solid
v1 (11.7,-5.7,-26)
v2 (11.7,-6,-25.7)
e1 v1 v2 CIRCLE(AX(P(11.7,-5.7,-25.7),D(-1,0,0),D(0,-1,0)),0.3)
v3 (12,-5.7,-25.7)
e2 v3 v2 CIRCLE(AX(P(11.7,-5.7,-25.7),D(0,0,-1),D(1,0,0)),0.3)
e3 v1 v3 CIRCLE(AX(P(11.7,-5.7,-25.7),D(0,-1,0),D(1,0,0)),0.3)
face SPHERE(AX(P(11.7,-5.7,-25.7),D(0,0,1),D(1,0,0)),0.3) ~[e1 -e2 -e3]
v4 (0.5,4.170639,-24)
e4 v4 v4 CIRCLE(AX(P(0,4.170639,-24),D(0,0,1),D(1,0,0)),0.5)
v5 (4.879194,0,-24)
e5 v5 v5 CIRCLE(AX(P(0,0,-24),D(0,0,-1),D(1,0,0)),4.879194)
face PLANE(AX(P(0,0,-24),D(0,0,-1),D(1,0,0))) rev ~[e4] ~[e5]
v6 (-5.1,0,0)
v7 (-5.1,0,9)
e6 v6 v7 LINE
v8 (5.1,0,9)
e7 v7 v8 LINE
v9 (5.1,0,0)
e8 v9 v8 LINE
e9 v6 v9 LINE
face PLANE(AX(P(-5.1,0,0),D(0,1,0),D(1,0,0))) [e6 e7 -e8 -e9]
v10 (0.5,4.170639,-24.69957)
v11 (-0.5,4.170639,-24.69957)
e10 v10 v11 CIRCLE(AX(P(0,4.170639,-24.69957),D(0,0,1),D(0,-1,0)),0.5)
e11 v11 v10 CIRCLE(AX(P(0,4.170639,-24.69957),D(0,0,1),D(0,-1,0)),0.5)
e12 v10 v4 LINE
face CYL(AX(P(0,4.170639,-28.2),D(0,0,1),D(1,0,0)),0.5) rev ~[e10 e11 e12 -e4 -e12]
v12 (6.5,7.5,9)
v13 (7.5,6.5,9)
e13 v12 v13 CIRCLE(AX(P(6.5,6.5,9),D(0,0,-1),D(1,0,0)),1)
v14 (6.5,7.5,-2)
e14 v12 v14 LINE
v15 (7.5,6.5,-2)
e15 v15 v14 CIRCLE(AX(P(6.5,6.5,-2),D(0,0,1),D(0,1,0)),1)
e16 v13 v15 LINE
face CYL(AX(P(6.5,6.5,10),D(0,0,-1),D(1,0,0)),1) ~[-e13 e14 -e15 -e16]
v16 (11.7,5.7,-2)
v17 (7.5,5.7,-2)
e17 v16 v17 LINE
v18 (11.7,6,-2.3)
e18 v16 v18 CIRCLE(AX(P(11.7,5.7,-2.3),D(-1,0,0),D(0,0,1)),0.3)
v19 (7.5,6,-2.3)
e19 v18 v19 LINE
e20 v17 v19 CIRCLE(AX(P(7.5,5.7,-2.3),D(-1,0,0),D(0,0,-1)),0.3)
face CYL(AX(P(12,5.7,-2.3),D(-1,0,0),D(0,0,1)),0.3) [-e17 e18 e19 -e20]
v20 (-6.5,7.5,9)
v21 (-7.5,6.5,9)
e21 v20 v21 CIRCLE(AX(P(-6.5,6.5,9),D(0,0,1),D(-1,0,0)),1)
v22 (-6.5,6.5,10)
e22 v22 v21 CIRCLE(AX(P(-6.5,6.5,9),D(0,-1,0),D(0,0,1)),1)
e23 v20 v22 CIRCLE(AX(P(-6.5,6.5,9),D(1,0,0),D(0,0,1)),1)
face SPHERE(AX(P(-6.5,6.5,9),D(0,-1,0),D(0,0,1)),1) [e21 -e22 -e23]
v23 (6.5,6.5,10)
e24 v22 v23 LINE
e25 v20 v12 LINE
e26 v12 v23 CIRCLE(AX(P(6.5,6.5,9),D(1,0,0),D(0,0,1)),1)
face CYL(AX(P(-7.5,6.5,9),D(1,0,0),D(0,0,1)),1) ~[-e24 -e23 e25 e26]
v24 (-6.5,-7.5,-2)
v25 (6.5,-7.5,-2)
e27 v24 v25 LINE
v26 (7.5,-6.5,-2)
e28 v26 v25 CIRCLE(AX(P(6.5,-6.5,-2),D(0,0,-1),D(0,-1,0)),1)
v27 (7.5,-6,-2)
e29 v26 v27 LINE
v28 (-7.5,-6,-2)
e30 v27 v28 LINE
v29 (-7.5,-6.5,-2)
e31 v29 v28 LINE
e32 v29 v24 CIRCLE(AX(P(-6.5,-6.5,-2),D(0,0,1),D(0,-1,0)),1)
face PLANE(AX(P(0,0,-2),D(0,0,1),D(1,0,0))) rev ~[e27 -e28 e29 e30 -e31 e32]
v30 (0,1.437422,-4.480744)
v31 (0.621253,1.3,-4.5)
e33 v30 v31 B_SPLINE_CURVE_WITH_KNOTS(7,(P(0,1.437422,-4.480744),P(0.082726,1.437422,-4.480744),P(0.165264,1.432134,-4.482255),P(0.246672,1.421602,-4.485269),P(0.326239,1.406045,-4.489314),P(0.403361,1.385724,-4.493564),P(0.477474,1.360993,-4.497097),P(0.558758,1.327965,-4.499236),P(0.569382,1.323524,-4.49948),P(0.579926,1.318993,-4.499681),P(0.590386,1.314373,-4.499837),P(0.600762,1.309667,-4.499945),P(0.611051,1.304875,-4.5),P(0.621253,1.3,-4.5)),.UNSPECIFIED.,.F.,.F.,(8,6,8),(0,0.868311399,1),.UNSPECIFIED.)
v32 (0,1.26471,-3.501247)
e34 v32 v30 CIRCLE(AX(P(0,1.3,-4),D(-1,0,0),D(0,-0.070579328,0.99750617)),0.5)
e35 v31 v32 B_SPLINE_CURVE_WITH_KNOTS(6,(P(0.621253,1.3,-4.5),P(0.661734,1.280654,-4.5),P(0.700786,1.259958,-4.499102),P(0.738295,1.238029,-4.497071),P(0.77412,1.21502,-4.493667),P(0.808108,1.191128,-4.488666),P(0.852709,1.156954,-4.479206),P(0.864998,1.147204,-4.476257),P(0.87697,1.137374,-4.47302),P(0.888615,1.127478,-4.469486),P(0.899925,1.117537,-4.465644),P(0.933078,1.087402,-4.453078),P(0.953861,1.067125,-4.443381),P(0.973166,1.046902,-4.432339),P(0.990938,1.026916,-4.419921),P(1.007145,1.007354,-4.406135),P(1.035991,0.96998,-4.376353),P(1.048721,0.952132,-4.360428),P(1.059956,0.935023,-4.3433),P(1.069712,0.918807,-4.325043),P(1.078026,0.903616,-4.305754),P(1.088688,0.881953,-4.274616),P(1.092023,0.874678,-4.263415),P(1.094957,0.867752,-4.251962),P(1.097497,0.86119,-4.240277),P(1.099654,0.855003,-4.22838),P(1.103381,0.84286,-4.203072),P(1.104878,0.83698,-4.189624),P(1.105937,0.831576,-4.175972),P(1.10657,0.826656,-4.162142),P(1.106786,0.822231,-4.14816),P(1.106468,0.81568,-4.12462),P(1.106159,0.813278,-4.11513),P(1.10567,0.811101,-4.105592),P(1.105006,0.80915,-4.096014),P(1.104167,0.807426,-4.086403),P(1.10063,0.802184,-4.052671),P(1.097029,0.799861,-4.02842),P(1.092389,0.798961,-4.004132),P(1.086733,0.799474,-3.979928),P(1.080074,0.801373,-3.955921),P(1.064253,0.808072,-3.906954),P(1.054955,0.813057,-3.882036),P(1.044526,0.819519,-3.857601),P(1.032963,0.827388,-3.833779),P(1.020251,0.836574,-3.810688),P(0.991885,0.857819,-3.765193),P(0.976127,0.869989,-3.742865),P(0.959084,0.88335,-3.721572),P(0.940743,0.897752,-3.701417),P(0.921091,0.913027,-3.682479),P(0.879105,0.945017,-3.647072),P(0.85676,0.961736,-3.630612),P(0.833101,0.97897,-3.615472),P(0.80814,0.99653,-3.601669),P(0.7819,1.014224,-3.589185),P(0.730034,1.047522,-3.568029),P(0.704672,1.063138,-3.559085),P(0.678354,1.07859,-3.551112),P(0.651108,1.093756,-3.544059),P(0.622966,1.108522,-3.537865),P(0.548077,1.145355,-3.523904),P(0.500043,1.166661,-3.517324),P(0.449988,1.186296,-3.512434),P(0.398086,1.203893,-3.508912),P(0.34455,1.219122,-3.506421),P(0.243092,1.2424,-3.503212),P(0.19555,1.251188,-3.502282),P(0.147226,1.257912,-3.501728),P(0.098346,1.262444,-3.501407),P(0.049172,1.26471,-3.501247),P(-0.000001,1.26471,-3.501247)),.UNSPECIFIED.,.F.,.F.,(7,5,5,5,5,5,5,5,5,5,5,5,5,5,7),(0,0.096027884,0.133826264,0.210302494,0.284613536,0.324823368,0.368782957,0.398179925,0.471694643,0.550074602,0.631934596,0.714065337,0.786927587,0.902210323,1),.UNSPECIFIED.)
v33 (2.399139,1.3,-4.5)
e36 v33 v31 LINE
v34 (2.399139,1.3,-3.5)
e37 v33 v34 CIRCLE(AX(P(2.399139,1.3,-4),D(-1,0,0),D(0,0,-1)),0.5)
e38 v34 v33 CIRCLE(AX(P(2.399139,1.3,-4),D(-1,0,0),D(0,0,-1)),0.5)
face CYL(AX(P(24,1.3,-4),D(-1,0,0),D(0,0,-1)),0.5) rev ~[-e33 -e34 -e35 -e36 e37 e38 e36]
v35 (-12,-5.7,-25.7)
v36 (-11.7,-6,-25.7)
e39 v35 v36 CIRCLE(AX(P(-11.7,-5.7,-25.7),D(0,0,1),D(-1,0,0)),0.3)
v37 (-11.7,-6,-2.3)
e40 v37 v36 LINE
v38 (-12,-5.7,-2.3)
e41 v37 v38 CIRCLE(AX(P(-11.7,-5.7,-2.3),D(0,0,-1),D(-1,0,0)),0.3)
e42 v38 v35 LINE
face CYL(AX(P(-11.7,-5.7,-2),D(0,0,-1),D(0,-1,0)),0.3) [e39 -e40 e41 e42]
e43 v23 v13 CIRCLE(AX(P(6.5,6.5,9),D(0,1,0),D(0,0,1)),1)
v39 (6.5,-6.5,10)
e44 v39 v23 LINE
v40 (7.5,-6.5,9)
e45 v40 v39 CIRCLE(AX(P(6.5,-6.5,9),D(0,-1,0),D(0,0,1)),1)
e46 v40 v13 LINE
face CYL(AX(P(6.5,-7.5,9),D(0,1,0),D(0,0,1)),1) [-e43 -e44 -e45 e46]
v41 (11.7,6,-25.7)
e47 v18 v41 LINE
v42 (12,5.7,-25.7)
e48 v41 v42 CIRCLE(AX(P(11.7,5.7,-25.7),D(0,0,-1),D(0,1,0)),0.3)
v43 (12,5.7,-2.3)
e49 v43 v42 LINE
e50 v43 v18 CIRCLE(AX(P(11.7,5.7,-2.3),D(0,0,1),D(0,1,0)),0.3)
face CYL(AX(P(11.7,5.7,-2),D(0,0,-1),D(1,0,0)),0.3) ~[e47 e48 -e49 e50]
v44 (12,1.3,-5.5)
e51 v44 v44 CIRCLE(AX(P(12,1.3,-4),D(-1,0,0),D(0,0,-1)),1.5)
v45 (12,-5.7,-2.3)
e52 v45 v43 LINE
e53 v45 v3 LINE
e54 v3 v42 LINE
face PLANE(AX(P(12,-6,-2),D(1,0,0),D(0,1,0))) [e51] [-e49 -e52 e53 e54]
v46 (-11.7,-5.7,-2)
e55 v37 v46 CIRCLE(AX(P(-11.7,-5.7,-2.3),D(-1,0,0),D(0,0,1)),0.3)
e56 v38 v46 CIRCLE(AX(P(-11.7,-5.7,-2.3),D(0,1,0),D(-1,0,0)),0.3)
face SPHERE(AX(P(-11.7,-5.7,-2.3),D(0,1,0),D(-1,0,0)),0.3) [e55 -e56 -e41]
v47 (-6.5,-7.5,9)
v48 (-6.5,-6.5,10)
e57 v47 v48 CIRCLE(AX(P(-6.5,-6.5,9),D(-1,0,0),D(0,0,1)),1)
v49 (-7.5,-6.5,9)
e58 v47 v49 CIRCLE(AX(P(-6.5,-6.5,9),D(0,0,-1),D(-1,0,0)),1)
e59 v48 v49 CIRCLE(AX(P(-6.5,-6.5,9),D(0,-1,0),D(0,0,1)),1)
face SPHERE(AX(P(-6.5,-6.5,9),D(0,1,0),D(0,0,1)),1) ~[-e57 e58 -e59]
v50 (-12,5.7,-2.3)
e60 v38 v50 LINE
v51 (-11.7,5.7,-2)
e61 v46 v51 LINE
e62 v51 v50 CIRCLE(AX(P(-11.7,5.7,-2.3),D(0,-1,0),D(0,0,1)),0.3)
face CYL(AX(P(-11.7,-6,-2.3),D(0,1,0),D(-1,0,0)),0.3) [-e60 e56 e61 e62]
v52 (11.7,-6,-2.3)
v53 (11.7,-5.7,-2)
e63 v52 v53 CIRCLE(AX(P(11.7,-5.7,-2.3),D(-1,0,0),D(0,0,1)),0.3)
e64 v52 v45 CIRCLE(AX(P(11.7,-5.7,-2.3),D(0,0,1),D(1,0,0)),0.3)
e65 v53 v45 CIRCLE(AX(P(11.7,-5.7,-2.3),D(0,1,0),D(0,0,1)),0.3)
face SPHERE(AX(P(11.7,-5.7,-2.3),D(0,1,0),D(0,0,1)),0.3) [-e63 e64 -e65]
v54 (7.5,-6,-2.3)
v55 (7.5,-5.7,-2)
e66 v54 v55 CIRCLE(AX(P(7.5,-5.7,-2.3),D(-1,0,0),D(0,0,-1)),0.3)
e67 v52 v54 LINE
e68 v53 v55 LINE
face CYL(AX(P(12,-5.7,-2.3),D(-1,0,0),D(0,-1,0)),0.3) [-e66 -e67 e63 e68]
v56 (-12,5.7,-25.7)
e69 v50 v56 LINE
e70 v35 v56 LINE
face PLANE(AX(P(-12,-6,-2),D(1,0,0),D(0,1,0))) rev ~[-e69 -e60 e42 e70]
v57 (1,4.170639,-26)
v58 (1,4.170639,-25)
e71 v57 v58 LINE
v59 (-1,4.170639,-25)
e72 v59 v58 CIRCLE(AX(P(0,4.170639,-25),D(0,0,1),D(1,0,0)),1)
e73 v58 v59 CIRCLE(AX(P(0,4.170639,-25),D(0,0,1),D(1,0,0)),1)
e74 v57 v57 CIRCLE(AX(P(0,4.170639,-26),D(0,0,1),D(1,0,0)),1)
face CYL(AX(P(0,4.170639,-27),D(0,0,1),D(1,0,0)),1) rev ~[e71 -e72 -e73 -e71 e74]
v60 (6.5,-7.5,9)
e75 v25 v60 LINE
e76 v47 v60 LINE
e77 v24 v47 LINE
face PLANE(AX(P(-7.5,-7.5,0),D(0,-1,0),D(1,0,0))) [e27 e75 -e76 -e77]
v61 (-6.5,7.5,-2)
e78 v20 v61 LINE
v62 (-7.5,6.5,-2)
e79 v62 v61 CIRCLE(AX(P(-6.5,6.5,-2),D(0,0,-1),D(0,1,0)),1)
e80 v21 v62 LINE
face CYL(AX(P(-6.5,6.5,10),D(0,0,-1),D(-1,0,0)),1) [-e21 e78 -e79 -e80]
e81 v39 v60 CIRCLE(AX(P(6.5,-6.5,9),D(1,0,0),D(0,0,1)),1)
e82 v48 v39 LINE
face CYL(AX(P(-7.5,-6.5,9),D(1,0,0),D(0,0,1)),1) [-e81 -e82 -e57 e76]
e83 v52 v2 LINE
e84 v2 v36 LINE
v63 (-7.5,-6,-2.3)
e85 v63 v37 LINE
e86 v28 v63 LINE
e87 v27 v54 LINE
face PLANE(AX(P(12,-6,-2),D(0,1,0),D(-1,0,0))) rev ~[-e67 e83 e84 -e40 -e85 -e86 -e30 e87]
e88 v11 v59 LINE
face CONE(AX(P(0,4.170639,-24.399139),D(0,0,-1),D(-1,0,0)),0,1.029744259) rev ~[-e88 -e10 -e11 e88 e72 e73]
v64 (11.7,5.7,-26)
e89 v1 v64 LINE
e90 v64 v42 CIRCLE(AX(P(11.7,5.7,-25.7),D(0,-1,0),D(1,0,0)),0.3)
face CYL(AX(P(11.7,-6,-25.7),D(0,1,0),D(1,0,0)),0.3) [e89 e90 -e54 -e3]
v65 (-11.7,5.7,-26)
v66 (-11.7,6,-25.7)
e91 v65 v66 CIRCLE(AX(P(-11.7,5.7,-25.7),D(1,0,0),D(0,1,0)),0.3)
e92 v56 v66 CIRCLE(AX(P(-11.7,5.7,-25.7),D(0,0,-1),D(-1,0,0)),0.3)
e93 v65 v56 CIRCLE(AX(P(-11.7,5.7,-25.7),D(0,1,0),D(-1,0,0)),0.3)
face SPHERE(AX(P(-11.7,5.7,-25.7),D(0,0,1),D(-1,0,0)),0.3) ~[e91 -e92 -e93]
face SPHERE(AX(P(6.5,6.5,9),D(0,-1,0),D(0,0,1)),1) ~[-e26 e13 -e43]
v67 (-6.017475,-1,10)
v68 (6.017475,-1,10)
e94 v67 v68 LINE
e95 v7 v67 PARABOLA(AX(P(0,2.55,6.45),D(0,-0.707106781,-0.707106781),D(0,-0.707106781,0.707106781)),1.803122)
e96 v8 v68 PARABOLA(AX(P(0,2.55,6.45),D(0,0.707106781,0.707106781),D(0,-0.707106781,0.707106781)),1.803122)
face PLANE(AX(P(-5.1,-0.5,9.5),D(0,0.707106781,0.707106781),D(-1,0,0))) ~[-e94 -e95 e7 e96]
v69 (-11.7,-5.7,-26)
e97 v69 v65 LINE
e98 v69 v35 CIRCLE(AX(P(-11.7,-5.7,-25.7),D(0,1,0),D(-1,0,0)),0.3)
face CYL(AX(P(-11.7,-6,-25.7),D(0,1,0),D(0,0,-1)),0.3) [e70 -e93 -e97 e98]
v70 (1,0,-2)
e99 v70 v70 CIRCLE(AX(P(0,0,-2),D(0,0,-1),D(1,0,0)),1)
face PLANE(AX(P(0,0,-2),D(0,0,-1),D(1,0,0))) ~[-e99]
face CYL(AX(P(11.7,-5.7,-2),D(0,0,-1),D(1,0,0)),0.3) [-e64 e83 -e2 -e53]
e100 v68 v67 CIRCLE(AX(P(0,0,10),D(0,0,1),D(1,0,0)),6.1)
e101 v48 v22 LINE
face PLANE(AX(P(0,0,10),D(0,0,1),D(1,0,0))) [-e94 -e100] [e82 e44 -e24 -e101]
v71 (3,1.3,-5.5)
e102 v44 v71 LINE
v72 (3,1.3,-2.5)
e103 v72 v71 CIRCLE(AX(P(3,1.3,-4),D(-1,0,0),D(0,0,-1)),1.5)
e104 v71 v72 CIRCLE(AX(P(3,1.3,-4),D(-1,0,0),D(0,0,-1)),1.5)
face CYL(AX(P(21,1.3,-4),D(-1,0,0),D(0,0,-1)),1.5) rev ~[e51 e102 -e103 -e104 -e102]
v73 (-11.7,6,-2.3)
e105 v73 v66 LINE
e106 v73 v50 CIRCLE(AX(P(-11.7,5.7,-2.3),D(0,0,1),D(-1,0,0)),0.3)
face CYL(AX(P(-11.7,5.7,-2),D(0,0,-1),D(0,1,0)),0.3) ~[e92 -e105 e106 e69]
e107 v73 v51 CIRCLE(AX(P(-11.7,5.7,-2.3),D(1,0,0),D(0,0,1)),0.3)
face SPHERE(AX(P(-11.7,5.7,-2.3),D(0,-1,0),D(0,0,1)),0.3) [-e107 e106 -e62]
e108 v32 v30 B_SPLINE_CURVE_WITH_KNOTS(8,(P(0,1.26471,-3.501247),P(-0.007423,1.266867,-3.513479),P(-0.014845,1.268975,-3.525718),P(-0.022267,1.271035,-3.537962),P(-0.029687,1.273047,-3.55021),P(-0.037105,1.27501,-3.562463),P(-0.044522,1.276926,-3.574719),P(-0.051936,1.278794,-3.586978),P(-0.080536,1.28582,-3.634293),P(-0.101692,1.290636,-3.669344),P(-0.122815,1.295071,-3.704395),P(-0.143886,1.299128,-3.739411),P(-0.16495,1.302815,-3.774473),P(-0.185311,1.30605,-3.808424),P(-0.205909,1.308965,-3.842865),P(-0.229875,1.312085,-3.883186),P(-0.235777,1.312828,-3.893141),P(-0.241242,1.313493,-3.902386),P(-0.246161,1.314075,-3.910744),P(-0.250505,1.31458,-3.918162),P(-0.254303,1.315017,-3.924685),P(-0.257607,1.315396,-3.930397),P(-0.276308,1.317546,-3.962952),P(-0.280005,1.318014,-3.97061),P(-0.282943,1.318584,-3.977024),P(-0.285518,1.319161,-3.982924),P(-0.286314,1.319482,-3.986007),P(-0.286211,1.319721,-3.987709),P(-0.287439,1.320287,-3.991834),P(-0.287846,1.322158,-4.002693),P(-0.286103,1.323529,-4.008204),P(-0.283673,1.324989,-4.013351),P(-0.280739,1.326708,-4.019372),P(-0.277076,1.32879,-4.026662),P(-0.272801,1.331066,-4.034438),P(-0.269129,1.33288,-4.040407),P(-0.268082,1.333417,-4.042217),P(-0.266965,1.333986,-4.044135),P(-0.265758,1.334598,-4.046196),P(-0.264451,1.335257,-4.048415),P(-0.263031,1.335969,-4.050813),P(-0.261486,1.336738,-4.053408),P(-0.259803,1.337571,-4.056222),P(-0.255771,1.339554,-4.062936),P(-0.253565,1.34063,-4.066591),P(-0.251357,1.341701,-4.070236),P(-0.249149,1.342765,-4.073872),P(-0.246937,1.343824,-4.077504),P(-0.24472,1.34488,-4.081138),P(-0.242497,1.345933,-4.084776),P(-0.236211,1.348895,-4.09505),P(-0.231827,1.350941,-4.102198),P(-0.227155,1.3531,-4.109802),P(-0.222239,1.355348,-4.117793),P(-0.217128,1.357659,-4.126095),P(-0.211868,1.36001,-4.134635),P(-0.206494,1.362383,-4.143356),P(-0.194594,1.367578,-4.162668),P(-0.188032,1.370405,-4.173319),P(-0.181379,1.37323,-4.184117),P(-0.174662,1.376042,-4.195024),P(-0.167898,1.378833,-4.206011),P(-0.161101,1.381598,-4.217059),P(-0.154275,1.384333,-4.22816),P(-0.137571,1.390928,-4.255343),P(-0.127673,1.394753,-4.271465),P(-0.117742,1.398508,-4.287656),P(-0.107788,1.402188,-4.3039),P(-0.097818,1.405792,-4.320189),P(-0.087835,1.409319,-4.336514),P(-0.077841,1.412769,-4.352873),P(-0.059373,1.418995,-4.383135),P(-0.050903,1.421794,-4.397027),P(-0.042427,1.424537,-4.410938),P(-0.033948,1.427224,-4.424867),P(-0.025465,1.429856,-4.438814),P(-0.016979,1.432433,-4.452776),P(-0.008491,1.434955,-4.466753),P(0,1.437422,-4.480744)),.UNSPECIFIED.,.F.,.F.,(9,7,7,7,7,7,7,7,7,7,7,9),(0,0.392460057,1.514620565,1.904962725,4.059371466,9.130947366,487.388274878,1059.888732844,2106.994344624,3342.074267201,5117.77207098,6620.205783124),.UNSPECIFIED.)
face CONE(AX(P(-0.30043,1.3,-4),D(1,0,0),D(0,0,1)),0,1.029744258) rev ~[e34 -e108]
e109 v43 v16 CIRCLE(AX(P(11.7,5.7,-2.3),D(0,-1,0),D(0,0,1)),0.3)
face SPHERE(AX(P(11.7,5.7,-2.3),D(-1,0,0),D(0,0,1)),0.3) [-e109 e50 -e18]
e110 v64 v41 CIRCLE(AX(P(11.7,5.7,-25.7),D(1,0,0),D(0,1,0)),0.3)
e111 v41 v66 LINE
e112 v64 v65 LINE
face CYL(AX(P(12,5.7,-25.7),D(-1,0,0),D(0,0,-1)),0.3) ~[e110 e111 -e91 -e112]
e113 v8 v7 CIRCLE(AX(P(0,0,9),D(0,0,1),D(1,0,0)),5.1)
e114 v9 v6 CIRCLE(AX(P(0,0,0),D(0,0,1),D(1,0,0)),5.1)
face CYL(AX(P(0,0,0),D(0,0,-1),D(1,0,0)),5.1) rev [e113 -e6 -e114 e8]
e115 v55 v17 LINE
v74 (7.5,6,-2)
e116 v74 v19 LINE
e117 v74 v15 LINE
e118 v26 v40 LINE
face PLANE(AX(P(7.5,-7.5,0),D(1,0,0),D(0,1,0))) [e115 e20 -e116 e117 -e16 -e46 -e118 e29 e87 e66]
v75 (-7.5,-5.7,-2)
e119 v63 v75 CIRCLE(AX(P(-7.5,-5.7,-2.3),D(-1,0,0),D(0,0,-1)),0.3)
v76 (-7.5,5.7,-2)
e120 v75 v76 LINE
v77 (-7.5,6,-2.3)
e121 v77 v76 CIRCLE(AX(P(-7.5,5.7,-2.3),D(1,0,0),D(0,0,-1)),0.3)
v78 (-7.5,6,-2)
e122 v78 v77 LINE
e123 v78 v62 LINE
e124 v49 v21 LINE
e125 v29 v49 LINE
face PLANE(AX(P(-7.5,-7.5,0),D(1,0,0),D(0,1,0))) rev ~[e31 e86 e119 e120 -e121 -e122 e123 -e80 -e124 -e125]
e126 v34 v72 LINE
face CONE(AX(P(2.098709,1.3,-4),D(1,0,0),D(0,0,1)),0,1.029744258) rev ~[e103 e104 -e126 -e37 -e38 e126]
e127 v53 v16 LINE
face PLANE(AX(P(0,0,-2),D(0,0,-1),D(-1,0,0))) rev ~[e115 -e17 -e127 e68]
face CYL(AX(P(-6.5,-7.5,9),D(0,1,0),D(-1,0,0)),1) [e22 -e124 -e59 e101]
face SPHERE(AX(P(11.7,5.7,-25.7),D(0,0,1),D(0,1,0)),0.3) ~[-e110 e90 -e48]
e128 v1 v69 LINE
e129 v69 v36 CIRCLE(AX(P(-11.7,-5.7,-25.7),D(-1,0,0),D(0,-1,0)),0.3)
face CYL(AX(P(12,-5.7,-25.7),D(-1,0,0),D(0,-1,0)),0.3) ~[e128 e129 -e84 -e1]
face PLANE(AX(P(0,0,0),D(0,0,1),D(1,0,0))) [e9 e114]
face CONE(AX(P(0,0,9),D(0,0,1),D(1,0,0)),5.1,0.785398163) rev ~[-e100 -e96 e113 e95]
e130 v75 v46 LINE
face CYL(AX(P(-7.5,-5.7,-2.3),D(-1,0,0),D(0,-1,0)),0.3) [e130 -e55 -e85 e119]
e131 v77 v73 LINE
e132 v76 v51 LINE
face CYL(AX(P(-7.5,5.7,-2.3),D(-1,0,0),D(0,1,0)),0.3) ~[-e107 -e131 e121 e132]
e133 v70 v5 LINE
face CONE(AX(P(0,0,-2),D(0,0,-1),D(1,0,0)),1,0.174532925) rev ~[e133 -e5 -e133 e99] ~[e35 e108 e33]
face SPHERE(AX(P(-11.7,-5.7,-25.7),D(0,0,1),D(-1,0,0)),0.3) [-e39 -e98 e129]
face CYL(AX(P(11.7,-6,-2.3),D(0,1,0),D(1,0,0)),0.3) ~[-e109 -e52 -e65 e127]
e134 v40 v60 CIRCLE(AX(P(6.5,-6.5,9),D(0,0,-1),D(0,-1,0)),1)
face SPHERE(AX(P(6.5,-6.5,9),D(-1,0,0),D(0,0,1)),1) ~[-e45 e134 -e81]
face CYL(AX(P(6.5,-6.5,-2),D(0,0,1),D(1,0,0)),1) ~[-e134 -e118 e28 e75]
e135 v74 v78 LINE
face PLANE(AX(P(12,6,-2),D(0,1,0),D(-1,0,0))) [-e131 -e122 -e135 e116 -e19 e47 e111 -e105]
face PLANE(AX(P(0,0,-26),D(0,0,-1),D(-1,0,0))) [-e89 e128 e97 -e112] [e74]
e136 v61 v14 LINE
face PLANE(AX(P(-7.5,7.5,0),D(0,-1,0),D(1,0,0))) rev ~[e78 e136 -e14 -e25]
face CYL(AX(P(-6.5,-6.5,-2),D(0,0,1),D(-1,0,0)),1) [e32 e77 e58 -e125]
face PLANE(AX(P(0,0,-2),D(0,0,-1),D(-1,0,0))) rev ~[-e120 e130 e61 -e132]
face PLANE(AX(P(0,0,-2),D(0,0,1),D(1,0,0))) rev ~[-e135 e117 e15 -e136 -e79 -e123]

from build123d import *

# Parameters (mm, degrees)
SKIZZE1_W                          = 15
SKIZZE1_H                          = 15
AUFSATZ_LINEAR_AUSTRAGEN1_DEPTH    = 10
FASE1_SIZE                         = 1
SKIZZE1_2_W                        = 15
SKIZZE1_2_H                        = 15
AUFSATZ_LINEAR_AUSTRAGEN2_DEPTH    = 2
VERRUNDUNG1_R                      = 1
SKIZZE2_W                          = 24
SKIZZE2_H                          = 12
AUFSATZ_LINEAR_AUSTRAGEN3_DEPTH    = 24
F_1_0_1_DURCHMESSER_BOHRUNG1_D     = 1
F_1_0_1_DURCHMESSER_BOHRUNG1_DEPTH = 12
F_1_0_1_DURCHMESSER_BOHRUNG1_TIP   = 0.30043031
F_1_0_1_DURCHMESSER_BOHRUNG2_D     = 1
F_1_0_1_DURCHMESSER_BOHRUNG2_DEPTH = 2.2
F_1_0_1_DURCHMESSER_BOHRUNG2_TIP   = 0.30043031
F_3_0_3_DURCHMESSER_BOHRUNG1_D     = 3
F_3_0_3_DURCHMESSER_BOHRUNG1_DEPTH = 9
F_3_0_3_DURCHMESSER_BOHRUNG1_TIP   = 0.901290929
F_2_0_2_DURCHMESSER_BOHRUNG1_D     = 2
F_2_0_2_DURCHMESSER_BOHRUNG1_DEPTH = 1
F_2_0_2_DURCHMESSER_BOHRUNG1_TIP   = 0.600860619
VERRUNDUNG6_R                      = 0.3


with BuildPart() as part:
    # Skizze1 → Aufsatz-Linear austragen1 (new body)
    with BuildSketch(Plane.XY):
        Rectangle(SKIZZE1_W, SKIZZE1_H)
        with BuildLine():
            Line((-5.1, 0), (5.1, 0))
            ThreePointArc((5.1, 0), (0, 5.1), (-5.1, 0))
        make_face(mode=Mode.SUBTRACT)
    extrude(amount=AUFSATZ_LINEAR_AUSTRAGEN1_DEPTH)

    # Fase1
    fase1_edges = [part.edges().sort_by_distance(p)[0] for p in [
        (0, 5.1, 10),
        (0, 0, 10),
    ]]
    chamfer(fase1_edges, length=FASE1_SIZE)

    # Skizze1_2 → Aufsatz-Linear austragen2 (add)
    with BuildSketch(Plane.XY):
        Rectangle(SKIZZE1_2_W, SKIZZE1_2_H)
        with BuildLine():
            ThreePointArc((5.1, 0), (0, 5.1), (-5.1, 0))
            Line((-5.1, 0), (5.1, 0))
        make_face(mode=Mode.SUBTRACT)
        with BuildLine():
            Line((-5.1, 0), (5.1, 0))
            ThreePointArc((5.1, 0), (0, 5.1), (-5.1, 0))
        make_face()
    extrude(amount=-AUFSATZ_LINEAR_AUSTRAGEN2_DEPTH)

    # Verrundung1
    verrundung1_edges = [part.edges().sort_by_distance(p)[0] for p in [
        (-7.5, 0, 10),
        (0, -7.5, 10),
        (7.5, 0, 10),
        (0, 7.5, 10),
        (7.5, -7.5, 4),
        (-7.5, -7.5, 4),
        (-7.5, 7.5, 4),
        (7.5, 7.5, 4),
    ]]
    fillet(verrundung1_edges, radius=VERRUNDUNG1_R)

    # Skizze2 → Aufsatz-Linear austragen3 (add)
    with BuildSketch(Plane(origin=(0, 0, -2), x_dir=(-1, 0, 0), z_dir=(0, 0, -1))):
        Rectangle(SKIZZE2_W, SKIZZE2_H)
    extrude(amount=AUFSATZ_LINEAR_AUSTRAGEN3_DEPTH)

    # Skizze12 → Schnitt-Rotation1 (revolve, cut)
    with BuildSketch(Plane(origin=(0, 0, 0), x_dir=(1, 0, 0), z_dir=(0, 1, 0)), mode=Mode.PRIVATE) as schnitt_rotation1_sk:
        Polygon((-1, 2), (-4.879193576, 24), (0, 24), (0, 2), align=None)
    revolve(schnitt_rotation1_sk.sketch.rotate(Axis((0, 0, -2), (0, 0, -1)), 180), axis=Axis((0, 0, -2), (0, 0, -1)), mode=Mode.SUBTRACT)  # turned: the seam where the file's is

    # 1.0 _1_ Durchmesser Bohrung1
    with Locations(Plane(origin=(12, 0, -12), x_dir=(0, 0, 1), z_dir=(1, 0, 0))):
        with Locations((8, -1.3)):
            Hole(F_1_0_1_DURCHMESSER_BOHRUNG1_D / 2, depth=F_1_0_1_DURCHMESSER_BOHRUNG1_DEPTH)
            with Locations((0, 0, -(F_1_0_1_DURCHMESSER_BOHRUNG1_DEPTH + F_1_0_1_DURCHMESSER_BOHRUNG1_TIP / 2))):  # 118° drill point
                Cone(0, F_1_0_1_DURCHMESSER_BOHRUNG1_D / 2, F_1_0_1_DURCHMESSER_BOHRUNG1_TIP, mode=Mode.SUBTRACT)

    # 1.0 _1_ Durchmesser Bohrung2
    with Locations(Plane(origin=(0, 0, -26), x_dir=(-1, 0, 0), z_dir=(0, 0, -1))):
        with Locations((0, 4.170639233)):
            Hole(F_1_0_1_DURCHMESSER_BOHRUNG2_D / 2, depth=F_1_0_1_DURCHMESSER_BOHRUNG2_DEPTH)
            with Locations((0, 0, -(F_1_0_1_DURCHMESSER_BOHRUNG2_DEPTH + F_1_0_1_DURCHMESSER_BOHRUNG2_TIP / 2))):  # 118° drill point
                Cone(0, F_1_0_1_DURCHMESSER_BOHRUNG2_D / 2, F_1_0_1_DURCHMESSER_BOHRUNG2_TIP, mode=Mode.SUBTRACT)

    # 3.0 _3_ Durchmesser Bohrung1
    with Locations(Plane(origin=(12, 0, -12), x_dir=(0, 0, 1), z_dir=(1, 0, 0))):
        with Locations((8, -1.3)):
            Hole(F_3_0_3_DURCHMESSER_BOHRUNG1_D / 2, depth=F_3_0_3_DURCHMESSER_BOHRUNG1_DEPTH)
            with Locations((0, 0, -(F_3_0_3_DURCHMESSER_BOHRUNG1_DEPTH + F_3_0_3_DURCHMESSER_BOHRUNG1_TIP / 2))):  # 118° drill point
                Cone(0, F_3_0_3_DURCHMESSER_BOHRUNG1_D / 2, F_3_0_3_DURCHMESSER_BOHRUNG1_TIP, mode=Mode.SUBTRACT)

    # 2.0 _2_ Durchmesser Bohrung1
    with Locations(Plane(origin=(0, 0, -26), x_dir=(-1, 0, 0), z_dir=(0, 0, -1))):
        with Locations((0, 4.170639233)):
            Hole(F_2_0_2_DURCHMESSER_BOHRUNG1_D / 2, depth=F_2_0_2_DURCHMESSER_BOHRUNG1_DEPTH)
            with Locations((0, 0, -(F_2_0_2_DURCHMESSER_BOHRUNG1_DEPTH + F_2_0_2_DURCHMESSER_BOHRUNG1_TIP / 2))):  # 118° drill point
                Cone(0, F_2_0_2_DURCHMESSER_BOHRUNG1_D / 2, F_2_0_2_DURCHMESSER_BOHRUNG1_TIP, mode=Mode.SUBTRACT)

    # Verrundung6
    verrundung6_edges = [part.edges().sort_by_distance(p)[0] for p in [
        (-12, 0, -2),
        (-12, -6, -14),
        (-9.75, 6, -2),
        (9.75, 6, -2),
        (-12, 6, -14),
        (12, 0, -2),
        (12, 6, -14),
        (9.75, -6, -2),
        (-9.75, -6, -2),
        (12, -6, -14),
        (-12, 0, -26),
        (0, 6, -26),
        (12, 0, -26),
        (0, -6, -26),
    ]]
    fillet(verrundung6_edges, radius=VERRUNDUNG6_R)


solid = part.part
